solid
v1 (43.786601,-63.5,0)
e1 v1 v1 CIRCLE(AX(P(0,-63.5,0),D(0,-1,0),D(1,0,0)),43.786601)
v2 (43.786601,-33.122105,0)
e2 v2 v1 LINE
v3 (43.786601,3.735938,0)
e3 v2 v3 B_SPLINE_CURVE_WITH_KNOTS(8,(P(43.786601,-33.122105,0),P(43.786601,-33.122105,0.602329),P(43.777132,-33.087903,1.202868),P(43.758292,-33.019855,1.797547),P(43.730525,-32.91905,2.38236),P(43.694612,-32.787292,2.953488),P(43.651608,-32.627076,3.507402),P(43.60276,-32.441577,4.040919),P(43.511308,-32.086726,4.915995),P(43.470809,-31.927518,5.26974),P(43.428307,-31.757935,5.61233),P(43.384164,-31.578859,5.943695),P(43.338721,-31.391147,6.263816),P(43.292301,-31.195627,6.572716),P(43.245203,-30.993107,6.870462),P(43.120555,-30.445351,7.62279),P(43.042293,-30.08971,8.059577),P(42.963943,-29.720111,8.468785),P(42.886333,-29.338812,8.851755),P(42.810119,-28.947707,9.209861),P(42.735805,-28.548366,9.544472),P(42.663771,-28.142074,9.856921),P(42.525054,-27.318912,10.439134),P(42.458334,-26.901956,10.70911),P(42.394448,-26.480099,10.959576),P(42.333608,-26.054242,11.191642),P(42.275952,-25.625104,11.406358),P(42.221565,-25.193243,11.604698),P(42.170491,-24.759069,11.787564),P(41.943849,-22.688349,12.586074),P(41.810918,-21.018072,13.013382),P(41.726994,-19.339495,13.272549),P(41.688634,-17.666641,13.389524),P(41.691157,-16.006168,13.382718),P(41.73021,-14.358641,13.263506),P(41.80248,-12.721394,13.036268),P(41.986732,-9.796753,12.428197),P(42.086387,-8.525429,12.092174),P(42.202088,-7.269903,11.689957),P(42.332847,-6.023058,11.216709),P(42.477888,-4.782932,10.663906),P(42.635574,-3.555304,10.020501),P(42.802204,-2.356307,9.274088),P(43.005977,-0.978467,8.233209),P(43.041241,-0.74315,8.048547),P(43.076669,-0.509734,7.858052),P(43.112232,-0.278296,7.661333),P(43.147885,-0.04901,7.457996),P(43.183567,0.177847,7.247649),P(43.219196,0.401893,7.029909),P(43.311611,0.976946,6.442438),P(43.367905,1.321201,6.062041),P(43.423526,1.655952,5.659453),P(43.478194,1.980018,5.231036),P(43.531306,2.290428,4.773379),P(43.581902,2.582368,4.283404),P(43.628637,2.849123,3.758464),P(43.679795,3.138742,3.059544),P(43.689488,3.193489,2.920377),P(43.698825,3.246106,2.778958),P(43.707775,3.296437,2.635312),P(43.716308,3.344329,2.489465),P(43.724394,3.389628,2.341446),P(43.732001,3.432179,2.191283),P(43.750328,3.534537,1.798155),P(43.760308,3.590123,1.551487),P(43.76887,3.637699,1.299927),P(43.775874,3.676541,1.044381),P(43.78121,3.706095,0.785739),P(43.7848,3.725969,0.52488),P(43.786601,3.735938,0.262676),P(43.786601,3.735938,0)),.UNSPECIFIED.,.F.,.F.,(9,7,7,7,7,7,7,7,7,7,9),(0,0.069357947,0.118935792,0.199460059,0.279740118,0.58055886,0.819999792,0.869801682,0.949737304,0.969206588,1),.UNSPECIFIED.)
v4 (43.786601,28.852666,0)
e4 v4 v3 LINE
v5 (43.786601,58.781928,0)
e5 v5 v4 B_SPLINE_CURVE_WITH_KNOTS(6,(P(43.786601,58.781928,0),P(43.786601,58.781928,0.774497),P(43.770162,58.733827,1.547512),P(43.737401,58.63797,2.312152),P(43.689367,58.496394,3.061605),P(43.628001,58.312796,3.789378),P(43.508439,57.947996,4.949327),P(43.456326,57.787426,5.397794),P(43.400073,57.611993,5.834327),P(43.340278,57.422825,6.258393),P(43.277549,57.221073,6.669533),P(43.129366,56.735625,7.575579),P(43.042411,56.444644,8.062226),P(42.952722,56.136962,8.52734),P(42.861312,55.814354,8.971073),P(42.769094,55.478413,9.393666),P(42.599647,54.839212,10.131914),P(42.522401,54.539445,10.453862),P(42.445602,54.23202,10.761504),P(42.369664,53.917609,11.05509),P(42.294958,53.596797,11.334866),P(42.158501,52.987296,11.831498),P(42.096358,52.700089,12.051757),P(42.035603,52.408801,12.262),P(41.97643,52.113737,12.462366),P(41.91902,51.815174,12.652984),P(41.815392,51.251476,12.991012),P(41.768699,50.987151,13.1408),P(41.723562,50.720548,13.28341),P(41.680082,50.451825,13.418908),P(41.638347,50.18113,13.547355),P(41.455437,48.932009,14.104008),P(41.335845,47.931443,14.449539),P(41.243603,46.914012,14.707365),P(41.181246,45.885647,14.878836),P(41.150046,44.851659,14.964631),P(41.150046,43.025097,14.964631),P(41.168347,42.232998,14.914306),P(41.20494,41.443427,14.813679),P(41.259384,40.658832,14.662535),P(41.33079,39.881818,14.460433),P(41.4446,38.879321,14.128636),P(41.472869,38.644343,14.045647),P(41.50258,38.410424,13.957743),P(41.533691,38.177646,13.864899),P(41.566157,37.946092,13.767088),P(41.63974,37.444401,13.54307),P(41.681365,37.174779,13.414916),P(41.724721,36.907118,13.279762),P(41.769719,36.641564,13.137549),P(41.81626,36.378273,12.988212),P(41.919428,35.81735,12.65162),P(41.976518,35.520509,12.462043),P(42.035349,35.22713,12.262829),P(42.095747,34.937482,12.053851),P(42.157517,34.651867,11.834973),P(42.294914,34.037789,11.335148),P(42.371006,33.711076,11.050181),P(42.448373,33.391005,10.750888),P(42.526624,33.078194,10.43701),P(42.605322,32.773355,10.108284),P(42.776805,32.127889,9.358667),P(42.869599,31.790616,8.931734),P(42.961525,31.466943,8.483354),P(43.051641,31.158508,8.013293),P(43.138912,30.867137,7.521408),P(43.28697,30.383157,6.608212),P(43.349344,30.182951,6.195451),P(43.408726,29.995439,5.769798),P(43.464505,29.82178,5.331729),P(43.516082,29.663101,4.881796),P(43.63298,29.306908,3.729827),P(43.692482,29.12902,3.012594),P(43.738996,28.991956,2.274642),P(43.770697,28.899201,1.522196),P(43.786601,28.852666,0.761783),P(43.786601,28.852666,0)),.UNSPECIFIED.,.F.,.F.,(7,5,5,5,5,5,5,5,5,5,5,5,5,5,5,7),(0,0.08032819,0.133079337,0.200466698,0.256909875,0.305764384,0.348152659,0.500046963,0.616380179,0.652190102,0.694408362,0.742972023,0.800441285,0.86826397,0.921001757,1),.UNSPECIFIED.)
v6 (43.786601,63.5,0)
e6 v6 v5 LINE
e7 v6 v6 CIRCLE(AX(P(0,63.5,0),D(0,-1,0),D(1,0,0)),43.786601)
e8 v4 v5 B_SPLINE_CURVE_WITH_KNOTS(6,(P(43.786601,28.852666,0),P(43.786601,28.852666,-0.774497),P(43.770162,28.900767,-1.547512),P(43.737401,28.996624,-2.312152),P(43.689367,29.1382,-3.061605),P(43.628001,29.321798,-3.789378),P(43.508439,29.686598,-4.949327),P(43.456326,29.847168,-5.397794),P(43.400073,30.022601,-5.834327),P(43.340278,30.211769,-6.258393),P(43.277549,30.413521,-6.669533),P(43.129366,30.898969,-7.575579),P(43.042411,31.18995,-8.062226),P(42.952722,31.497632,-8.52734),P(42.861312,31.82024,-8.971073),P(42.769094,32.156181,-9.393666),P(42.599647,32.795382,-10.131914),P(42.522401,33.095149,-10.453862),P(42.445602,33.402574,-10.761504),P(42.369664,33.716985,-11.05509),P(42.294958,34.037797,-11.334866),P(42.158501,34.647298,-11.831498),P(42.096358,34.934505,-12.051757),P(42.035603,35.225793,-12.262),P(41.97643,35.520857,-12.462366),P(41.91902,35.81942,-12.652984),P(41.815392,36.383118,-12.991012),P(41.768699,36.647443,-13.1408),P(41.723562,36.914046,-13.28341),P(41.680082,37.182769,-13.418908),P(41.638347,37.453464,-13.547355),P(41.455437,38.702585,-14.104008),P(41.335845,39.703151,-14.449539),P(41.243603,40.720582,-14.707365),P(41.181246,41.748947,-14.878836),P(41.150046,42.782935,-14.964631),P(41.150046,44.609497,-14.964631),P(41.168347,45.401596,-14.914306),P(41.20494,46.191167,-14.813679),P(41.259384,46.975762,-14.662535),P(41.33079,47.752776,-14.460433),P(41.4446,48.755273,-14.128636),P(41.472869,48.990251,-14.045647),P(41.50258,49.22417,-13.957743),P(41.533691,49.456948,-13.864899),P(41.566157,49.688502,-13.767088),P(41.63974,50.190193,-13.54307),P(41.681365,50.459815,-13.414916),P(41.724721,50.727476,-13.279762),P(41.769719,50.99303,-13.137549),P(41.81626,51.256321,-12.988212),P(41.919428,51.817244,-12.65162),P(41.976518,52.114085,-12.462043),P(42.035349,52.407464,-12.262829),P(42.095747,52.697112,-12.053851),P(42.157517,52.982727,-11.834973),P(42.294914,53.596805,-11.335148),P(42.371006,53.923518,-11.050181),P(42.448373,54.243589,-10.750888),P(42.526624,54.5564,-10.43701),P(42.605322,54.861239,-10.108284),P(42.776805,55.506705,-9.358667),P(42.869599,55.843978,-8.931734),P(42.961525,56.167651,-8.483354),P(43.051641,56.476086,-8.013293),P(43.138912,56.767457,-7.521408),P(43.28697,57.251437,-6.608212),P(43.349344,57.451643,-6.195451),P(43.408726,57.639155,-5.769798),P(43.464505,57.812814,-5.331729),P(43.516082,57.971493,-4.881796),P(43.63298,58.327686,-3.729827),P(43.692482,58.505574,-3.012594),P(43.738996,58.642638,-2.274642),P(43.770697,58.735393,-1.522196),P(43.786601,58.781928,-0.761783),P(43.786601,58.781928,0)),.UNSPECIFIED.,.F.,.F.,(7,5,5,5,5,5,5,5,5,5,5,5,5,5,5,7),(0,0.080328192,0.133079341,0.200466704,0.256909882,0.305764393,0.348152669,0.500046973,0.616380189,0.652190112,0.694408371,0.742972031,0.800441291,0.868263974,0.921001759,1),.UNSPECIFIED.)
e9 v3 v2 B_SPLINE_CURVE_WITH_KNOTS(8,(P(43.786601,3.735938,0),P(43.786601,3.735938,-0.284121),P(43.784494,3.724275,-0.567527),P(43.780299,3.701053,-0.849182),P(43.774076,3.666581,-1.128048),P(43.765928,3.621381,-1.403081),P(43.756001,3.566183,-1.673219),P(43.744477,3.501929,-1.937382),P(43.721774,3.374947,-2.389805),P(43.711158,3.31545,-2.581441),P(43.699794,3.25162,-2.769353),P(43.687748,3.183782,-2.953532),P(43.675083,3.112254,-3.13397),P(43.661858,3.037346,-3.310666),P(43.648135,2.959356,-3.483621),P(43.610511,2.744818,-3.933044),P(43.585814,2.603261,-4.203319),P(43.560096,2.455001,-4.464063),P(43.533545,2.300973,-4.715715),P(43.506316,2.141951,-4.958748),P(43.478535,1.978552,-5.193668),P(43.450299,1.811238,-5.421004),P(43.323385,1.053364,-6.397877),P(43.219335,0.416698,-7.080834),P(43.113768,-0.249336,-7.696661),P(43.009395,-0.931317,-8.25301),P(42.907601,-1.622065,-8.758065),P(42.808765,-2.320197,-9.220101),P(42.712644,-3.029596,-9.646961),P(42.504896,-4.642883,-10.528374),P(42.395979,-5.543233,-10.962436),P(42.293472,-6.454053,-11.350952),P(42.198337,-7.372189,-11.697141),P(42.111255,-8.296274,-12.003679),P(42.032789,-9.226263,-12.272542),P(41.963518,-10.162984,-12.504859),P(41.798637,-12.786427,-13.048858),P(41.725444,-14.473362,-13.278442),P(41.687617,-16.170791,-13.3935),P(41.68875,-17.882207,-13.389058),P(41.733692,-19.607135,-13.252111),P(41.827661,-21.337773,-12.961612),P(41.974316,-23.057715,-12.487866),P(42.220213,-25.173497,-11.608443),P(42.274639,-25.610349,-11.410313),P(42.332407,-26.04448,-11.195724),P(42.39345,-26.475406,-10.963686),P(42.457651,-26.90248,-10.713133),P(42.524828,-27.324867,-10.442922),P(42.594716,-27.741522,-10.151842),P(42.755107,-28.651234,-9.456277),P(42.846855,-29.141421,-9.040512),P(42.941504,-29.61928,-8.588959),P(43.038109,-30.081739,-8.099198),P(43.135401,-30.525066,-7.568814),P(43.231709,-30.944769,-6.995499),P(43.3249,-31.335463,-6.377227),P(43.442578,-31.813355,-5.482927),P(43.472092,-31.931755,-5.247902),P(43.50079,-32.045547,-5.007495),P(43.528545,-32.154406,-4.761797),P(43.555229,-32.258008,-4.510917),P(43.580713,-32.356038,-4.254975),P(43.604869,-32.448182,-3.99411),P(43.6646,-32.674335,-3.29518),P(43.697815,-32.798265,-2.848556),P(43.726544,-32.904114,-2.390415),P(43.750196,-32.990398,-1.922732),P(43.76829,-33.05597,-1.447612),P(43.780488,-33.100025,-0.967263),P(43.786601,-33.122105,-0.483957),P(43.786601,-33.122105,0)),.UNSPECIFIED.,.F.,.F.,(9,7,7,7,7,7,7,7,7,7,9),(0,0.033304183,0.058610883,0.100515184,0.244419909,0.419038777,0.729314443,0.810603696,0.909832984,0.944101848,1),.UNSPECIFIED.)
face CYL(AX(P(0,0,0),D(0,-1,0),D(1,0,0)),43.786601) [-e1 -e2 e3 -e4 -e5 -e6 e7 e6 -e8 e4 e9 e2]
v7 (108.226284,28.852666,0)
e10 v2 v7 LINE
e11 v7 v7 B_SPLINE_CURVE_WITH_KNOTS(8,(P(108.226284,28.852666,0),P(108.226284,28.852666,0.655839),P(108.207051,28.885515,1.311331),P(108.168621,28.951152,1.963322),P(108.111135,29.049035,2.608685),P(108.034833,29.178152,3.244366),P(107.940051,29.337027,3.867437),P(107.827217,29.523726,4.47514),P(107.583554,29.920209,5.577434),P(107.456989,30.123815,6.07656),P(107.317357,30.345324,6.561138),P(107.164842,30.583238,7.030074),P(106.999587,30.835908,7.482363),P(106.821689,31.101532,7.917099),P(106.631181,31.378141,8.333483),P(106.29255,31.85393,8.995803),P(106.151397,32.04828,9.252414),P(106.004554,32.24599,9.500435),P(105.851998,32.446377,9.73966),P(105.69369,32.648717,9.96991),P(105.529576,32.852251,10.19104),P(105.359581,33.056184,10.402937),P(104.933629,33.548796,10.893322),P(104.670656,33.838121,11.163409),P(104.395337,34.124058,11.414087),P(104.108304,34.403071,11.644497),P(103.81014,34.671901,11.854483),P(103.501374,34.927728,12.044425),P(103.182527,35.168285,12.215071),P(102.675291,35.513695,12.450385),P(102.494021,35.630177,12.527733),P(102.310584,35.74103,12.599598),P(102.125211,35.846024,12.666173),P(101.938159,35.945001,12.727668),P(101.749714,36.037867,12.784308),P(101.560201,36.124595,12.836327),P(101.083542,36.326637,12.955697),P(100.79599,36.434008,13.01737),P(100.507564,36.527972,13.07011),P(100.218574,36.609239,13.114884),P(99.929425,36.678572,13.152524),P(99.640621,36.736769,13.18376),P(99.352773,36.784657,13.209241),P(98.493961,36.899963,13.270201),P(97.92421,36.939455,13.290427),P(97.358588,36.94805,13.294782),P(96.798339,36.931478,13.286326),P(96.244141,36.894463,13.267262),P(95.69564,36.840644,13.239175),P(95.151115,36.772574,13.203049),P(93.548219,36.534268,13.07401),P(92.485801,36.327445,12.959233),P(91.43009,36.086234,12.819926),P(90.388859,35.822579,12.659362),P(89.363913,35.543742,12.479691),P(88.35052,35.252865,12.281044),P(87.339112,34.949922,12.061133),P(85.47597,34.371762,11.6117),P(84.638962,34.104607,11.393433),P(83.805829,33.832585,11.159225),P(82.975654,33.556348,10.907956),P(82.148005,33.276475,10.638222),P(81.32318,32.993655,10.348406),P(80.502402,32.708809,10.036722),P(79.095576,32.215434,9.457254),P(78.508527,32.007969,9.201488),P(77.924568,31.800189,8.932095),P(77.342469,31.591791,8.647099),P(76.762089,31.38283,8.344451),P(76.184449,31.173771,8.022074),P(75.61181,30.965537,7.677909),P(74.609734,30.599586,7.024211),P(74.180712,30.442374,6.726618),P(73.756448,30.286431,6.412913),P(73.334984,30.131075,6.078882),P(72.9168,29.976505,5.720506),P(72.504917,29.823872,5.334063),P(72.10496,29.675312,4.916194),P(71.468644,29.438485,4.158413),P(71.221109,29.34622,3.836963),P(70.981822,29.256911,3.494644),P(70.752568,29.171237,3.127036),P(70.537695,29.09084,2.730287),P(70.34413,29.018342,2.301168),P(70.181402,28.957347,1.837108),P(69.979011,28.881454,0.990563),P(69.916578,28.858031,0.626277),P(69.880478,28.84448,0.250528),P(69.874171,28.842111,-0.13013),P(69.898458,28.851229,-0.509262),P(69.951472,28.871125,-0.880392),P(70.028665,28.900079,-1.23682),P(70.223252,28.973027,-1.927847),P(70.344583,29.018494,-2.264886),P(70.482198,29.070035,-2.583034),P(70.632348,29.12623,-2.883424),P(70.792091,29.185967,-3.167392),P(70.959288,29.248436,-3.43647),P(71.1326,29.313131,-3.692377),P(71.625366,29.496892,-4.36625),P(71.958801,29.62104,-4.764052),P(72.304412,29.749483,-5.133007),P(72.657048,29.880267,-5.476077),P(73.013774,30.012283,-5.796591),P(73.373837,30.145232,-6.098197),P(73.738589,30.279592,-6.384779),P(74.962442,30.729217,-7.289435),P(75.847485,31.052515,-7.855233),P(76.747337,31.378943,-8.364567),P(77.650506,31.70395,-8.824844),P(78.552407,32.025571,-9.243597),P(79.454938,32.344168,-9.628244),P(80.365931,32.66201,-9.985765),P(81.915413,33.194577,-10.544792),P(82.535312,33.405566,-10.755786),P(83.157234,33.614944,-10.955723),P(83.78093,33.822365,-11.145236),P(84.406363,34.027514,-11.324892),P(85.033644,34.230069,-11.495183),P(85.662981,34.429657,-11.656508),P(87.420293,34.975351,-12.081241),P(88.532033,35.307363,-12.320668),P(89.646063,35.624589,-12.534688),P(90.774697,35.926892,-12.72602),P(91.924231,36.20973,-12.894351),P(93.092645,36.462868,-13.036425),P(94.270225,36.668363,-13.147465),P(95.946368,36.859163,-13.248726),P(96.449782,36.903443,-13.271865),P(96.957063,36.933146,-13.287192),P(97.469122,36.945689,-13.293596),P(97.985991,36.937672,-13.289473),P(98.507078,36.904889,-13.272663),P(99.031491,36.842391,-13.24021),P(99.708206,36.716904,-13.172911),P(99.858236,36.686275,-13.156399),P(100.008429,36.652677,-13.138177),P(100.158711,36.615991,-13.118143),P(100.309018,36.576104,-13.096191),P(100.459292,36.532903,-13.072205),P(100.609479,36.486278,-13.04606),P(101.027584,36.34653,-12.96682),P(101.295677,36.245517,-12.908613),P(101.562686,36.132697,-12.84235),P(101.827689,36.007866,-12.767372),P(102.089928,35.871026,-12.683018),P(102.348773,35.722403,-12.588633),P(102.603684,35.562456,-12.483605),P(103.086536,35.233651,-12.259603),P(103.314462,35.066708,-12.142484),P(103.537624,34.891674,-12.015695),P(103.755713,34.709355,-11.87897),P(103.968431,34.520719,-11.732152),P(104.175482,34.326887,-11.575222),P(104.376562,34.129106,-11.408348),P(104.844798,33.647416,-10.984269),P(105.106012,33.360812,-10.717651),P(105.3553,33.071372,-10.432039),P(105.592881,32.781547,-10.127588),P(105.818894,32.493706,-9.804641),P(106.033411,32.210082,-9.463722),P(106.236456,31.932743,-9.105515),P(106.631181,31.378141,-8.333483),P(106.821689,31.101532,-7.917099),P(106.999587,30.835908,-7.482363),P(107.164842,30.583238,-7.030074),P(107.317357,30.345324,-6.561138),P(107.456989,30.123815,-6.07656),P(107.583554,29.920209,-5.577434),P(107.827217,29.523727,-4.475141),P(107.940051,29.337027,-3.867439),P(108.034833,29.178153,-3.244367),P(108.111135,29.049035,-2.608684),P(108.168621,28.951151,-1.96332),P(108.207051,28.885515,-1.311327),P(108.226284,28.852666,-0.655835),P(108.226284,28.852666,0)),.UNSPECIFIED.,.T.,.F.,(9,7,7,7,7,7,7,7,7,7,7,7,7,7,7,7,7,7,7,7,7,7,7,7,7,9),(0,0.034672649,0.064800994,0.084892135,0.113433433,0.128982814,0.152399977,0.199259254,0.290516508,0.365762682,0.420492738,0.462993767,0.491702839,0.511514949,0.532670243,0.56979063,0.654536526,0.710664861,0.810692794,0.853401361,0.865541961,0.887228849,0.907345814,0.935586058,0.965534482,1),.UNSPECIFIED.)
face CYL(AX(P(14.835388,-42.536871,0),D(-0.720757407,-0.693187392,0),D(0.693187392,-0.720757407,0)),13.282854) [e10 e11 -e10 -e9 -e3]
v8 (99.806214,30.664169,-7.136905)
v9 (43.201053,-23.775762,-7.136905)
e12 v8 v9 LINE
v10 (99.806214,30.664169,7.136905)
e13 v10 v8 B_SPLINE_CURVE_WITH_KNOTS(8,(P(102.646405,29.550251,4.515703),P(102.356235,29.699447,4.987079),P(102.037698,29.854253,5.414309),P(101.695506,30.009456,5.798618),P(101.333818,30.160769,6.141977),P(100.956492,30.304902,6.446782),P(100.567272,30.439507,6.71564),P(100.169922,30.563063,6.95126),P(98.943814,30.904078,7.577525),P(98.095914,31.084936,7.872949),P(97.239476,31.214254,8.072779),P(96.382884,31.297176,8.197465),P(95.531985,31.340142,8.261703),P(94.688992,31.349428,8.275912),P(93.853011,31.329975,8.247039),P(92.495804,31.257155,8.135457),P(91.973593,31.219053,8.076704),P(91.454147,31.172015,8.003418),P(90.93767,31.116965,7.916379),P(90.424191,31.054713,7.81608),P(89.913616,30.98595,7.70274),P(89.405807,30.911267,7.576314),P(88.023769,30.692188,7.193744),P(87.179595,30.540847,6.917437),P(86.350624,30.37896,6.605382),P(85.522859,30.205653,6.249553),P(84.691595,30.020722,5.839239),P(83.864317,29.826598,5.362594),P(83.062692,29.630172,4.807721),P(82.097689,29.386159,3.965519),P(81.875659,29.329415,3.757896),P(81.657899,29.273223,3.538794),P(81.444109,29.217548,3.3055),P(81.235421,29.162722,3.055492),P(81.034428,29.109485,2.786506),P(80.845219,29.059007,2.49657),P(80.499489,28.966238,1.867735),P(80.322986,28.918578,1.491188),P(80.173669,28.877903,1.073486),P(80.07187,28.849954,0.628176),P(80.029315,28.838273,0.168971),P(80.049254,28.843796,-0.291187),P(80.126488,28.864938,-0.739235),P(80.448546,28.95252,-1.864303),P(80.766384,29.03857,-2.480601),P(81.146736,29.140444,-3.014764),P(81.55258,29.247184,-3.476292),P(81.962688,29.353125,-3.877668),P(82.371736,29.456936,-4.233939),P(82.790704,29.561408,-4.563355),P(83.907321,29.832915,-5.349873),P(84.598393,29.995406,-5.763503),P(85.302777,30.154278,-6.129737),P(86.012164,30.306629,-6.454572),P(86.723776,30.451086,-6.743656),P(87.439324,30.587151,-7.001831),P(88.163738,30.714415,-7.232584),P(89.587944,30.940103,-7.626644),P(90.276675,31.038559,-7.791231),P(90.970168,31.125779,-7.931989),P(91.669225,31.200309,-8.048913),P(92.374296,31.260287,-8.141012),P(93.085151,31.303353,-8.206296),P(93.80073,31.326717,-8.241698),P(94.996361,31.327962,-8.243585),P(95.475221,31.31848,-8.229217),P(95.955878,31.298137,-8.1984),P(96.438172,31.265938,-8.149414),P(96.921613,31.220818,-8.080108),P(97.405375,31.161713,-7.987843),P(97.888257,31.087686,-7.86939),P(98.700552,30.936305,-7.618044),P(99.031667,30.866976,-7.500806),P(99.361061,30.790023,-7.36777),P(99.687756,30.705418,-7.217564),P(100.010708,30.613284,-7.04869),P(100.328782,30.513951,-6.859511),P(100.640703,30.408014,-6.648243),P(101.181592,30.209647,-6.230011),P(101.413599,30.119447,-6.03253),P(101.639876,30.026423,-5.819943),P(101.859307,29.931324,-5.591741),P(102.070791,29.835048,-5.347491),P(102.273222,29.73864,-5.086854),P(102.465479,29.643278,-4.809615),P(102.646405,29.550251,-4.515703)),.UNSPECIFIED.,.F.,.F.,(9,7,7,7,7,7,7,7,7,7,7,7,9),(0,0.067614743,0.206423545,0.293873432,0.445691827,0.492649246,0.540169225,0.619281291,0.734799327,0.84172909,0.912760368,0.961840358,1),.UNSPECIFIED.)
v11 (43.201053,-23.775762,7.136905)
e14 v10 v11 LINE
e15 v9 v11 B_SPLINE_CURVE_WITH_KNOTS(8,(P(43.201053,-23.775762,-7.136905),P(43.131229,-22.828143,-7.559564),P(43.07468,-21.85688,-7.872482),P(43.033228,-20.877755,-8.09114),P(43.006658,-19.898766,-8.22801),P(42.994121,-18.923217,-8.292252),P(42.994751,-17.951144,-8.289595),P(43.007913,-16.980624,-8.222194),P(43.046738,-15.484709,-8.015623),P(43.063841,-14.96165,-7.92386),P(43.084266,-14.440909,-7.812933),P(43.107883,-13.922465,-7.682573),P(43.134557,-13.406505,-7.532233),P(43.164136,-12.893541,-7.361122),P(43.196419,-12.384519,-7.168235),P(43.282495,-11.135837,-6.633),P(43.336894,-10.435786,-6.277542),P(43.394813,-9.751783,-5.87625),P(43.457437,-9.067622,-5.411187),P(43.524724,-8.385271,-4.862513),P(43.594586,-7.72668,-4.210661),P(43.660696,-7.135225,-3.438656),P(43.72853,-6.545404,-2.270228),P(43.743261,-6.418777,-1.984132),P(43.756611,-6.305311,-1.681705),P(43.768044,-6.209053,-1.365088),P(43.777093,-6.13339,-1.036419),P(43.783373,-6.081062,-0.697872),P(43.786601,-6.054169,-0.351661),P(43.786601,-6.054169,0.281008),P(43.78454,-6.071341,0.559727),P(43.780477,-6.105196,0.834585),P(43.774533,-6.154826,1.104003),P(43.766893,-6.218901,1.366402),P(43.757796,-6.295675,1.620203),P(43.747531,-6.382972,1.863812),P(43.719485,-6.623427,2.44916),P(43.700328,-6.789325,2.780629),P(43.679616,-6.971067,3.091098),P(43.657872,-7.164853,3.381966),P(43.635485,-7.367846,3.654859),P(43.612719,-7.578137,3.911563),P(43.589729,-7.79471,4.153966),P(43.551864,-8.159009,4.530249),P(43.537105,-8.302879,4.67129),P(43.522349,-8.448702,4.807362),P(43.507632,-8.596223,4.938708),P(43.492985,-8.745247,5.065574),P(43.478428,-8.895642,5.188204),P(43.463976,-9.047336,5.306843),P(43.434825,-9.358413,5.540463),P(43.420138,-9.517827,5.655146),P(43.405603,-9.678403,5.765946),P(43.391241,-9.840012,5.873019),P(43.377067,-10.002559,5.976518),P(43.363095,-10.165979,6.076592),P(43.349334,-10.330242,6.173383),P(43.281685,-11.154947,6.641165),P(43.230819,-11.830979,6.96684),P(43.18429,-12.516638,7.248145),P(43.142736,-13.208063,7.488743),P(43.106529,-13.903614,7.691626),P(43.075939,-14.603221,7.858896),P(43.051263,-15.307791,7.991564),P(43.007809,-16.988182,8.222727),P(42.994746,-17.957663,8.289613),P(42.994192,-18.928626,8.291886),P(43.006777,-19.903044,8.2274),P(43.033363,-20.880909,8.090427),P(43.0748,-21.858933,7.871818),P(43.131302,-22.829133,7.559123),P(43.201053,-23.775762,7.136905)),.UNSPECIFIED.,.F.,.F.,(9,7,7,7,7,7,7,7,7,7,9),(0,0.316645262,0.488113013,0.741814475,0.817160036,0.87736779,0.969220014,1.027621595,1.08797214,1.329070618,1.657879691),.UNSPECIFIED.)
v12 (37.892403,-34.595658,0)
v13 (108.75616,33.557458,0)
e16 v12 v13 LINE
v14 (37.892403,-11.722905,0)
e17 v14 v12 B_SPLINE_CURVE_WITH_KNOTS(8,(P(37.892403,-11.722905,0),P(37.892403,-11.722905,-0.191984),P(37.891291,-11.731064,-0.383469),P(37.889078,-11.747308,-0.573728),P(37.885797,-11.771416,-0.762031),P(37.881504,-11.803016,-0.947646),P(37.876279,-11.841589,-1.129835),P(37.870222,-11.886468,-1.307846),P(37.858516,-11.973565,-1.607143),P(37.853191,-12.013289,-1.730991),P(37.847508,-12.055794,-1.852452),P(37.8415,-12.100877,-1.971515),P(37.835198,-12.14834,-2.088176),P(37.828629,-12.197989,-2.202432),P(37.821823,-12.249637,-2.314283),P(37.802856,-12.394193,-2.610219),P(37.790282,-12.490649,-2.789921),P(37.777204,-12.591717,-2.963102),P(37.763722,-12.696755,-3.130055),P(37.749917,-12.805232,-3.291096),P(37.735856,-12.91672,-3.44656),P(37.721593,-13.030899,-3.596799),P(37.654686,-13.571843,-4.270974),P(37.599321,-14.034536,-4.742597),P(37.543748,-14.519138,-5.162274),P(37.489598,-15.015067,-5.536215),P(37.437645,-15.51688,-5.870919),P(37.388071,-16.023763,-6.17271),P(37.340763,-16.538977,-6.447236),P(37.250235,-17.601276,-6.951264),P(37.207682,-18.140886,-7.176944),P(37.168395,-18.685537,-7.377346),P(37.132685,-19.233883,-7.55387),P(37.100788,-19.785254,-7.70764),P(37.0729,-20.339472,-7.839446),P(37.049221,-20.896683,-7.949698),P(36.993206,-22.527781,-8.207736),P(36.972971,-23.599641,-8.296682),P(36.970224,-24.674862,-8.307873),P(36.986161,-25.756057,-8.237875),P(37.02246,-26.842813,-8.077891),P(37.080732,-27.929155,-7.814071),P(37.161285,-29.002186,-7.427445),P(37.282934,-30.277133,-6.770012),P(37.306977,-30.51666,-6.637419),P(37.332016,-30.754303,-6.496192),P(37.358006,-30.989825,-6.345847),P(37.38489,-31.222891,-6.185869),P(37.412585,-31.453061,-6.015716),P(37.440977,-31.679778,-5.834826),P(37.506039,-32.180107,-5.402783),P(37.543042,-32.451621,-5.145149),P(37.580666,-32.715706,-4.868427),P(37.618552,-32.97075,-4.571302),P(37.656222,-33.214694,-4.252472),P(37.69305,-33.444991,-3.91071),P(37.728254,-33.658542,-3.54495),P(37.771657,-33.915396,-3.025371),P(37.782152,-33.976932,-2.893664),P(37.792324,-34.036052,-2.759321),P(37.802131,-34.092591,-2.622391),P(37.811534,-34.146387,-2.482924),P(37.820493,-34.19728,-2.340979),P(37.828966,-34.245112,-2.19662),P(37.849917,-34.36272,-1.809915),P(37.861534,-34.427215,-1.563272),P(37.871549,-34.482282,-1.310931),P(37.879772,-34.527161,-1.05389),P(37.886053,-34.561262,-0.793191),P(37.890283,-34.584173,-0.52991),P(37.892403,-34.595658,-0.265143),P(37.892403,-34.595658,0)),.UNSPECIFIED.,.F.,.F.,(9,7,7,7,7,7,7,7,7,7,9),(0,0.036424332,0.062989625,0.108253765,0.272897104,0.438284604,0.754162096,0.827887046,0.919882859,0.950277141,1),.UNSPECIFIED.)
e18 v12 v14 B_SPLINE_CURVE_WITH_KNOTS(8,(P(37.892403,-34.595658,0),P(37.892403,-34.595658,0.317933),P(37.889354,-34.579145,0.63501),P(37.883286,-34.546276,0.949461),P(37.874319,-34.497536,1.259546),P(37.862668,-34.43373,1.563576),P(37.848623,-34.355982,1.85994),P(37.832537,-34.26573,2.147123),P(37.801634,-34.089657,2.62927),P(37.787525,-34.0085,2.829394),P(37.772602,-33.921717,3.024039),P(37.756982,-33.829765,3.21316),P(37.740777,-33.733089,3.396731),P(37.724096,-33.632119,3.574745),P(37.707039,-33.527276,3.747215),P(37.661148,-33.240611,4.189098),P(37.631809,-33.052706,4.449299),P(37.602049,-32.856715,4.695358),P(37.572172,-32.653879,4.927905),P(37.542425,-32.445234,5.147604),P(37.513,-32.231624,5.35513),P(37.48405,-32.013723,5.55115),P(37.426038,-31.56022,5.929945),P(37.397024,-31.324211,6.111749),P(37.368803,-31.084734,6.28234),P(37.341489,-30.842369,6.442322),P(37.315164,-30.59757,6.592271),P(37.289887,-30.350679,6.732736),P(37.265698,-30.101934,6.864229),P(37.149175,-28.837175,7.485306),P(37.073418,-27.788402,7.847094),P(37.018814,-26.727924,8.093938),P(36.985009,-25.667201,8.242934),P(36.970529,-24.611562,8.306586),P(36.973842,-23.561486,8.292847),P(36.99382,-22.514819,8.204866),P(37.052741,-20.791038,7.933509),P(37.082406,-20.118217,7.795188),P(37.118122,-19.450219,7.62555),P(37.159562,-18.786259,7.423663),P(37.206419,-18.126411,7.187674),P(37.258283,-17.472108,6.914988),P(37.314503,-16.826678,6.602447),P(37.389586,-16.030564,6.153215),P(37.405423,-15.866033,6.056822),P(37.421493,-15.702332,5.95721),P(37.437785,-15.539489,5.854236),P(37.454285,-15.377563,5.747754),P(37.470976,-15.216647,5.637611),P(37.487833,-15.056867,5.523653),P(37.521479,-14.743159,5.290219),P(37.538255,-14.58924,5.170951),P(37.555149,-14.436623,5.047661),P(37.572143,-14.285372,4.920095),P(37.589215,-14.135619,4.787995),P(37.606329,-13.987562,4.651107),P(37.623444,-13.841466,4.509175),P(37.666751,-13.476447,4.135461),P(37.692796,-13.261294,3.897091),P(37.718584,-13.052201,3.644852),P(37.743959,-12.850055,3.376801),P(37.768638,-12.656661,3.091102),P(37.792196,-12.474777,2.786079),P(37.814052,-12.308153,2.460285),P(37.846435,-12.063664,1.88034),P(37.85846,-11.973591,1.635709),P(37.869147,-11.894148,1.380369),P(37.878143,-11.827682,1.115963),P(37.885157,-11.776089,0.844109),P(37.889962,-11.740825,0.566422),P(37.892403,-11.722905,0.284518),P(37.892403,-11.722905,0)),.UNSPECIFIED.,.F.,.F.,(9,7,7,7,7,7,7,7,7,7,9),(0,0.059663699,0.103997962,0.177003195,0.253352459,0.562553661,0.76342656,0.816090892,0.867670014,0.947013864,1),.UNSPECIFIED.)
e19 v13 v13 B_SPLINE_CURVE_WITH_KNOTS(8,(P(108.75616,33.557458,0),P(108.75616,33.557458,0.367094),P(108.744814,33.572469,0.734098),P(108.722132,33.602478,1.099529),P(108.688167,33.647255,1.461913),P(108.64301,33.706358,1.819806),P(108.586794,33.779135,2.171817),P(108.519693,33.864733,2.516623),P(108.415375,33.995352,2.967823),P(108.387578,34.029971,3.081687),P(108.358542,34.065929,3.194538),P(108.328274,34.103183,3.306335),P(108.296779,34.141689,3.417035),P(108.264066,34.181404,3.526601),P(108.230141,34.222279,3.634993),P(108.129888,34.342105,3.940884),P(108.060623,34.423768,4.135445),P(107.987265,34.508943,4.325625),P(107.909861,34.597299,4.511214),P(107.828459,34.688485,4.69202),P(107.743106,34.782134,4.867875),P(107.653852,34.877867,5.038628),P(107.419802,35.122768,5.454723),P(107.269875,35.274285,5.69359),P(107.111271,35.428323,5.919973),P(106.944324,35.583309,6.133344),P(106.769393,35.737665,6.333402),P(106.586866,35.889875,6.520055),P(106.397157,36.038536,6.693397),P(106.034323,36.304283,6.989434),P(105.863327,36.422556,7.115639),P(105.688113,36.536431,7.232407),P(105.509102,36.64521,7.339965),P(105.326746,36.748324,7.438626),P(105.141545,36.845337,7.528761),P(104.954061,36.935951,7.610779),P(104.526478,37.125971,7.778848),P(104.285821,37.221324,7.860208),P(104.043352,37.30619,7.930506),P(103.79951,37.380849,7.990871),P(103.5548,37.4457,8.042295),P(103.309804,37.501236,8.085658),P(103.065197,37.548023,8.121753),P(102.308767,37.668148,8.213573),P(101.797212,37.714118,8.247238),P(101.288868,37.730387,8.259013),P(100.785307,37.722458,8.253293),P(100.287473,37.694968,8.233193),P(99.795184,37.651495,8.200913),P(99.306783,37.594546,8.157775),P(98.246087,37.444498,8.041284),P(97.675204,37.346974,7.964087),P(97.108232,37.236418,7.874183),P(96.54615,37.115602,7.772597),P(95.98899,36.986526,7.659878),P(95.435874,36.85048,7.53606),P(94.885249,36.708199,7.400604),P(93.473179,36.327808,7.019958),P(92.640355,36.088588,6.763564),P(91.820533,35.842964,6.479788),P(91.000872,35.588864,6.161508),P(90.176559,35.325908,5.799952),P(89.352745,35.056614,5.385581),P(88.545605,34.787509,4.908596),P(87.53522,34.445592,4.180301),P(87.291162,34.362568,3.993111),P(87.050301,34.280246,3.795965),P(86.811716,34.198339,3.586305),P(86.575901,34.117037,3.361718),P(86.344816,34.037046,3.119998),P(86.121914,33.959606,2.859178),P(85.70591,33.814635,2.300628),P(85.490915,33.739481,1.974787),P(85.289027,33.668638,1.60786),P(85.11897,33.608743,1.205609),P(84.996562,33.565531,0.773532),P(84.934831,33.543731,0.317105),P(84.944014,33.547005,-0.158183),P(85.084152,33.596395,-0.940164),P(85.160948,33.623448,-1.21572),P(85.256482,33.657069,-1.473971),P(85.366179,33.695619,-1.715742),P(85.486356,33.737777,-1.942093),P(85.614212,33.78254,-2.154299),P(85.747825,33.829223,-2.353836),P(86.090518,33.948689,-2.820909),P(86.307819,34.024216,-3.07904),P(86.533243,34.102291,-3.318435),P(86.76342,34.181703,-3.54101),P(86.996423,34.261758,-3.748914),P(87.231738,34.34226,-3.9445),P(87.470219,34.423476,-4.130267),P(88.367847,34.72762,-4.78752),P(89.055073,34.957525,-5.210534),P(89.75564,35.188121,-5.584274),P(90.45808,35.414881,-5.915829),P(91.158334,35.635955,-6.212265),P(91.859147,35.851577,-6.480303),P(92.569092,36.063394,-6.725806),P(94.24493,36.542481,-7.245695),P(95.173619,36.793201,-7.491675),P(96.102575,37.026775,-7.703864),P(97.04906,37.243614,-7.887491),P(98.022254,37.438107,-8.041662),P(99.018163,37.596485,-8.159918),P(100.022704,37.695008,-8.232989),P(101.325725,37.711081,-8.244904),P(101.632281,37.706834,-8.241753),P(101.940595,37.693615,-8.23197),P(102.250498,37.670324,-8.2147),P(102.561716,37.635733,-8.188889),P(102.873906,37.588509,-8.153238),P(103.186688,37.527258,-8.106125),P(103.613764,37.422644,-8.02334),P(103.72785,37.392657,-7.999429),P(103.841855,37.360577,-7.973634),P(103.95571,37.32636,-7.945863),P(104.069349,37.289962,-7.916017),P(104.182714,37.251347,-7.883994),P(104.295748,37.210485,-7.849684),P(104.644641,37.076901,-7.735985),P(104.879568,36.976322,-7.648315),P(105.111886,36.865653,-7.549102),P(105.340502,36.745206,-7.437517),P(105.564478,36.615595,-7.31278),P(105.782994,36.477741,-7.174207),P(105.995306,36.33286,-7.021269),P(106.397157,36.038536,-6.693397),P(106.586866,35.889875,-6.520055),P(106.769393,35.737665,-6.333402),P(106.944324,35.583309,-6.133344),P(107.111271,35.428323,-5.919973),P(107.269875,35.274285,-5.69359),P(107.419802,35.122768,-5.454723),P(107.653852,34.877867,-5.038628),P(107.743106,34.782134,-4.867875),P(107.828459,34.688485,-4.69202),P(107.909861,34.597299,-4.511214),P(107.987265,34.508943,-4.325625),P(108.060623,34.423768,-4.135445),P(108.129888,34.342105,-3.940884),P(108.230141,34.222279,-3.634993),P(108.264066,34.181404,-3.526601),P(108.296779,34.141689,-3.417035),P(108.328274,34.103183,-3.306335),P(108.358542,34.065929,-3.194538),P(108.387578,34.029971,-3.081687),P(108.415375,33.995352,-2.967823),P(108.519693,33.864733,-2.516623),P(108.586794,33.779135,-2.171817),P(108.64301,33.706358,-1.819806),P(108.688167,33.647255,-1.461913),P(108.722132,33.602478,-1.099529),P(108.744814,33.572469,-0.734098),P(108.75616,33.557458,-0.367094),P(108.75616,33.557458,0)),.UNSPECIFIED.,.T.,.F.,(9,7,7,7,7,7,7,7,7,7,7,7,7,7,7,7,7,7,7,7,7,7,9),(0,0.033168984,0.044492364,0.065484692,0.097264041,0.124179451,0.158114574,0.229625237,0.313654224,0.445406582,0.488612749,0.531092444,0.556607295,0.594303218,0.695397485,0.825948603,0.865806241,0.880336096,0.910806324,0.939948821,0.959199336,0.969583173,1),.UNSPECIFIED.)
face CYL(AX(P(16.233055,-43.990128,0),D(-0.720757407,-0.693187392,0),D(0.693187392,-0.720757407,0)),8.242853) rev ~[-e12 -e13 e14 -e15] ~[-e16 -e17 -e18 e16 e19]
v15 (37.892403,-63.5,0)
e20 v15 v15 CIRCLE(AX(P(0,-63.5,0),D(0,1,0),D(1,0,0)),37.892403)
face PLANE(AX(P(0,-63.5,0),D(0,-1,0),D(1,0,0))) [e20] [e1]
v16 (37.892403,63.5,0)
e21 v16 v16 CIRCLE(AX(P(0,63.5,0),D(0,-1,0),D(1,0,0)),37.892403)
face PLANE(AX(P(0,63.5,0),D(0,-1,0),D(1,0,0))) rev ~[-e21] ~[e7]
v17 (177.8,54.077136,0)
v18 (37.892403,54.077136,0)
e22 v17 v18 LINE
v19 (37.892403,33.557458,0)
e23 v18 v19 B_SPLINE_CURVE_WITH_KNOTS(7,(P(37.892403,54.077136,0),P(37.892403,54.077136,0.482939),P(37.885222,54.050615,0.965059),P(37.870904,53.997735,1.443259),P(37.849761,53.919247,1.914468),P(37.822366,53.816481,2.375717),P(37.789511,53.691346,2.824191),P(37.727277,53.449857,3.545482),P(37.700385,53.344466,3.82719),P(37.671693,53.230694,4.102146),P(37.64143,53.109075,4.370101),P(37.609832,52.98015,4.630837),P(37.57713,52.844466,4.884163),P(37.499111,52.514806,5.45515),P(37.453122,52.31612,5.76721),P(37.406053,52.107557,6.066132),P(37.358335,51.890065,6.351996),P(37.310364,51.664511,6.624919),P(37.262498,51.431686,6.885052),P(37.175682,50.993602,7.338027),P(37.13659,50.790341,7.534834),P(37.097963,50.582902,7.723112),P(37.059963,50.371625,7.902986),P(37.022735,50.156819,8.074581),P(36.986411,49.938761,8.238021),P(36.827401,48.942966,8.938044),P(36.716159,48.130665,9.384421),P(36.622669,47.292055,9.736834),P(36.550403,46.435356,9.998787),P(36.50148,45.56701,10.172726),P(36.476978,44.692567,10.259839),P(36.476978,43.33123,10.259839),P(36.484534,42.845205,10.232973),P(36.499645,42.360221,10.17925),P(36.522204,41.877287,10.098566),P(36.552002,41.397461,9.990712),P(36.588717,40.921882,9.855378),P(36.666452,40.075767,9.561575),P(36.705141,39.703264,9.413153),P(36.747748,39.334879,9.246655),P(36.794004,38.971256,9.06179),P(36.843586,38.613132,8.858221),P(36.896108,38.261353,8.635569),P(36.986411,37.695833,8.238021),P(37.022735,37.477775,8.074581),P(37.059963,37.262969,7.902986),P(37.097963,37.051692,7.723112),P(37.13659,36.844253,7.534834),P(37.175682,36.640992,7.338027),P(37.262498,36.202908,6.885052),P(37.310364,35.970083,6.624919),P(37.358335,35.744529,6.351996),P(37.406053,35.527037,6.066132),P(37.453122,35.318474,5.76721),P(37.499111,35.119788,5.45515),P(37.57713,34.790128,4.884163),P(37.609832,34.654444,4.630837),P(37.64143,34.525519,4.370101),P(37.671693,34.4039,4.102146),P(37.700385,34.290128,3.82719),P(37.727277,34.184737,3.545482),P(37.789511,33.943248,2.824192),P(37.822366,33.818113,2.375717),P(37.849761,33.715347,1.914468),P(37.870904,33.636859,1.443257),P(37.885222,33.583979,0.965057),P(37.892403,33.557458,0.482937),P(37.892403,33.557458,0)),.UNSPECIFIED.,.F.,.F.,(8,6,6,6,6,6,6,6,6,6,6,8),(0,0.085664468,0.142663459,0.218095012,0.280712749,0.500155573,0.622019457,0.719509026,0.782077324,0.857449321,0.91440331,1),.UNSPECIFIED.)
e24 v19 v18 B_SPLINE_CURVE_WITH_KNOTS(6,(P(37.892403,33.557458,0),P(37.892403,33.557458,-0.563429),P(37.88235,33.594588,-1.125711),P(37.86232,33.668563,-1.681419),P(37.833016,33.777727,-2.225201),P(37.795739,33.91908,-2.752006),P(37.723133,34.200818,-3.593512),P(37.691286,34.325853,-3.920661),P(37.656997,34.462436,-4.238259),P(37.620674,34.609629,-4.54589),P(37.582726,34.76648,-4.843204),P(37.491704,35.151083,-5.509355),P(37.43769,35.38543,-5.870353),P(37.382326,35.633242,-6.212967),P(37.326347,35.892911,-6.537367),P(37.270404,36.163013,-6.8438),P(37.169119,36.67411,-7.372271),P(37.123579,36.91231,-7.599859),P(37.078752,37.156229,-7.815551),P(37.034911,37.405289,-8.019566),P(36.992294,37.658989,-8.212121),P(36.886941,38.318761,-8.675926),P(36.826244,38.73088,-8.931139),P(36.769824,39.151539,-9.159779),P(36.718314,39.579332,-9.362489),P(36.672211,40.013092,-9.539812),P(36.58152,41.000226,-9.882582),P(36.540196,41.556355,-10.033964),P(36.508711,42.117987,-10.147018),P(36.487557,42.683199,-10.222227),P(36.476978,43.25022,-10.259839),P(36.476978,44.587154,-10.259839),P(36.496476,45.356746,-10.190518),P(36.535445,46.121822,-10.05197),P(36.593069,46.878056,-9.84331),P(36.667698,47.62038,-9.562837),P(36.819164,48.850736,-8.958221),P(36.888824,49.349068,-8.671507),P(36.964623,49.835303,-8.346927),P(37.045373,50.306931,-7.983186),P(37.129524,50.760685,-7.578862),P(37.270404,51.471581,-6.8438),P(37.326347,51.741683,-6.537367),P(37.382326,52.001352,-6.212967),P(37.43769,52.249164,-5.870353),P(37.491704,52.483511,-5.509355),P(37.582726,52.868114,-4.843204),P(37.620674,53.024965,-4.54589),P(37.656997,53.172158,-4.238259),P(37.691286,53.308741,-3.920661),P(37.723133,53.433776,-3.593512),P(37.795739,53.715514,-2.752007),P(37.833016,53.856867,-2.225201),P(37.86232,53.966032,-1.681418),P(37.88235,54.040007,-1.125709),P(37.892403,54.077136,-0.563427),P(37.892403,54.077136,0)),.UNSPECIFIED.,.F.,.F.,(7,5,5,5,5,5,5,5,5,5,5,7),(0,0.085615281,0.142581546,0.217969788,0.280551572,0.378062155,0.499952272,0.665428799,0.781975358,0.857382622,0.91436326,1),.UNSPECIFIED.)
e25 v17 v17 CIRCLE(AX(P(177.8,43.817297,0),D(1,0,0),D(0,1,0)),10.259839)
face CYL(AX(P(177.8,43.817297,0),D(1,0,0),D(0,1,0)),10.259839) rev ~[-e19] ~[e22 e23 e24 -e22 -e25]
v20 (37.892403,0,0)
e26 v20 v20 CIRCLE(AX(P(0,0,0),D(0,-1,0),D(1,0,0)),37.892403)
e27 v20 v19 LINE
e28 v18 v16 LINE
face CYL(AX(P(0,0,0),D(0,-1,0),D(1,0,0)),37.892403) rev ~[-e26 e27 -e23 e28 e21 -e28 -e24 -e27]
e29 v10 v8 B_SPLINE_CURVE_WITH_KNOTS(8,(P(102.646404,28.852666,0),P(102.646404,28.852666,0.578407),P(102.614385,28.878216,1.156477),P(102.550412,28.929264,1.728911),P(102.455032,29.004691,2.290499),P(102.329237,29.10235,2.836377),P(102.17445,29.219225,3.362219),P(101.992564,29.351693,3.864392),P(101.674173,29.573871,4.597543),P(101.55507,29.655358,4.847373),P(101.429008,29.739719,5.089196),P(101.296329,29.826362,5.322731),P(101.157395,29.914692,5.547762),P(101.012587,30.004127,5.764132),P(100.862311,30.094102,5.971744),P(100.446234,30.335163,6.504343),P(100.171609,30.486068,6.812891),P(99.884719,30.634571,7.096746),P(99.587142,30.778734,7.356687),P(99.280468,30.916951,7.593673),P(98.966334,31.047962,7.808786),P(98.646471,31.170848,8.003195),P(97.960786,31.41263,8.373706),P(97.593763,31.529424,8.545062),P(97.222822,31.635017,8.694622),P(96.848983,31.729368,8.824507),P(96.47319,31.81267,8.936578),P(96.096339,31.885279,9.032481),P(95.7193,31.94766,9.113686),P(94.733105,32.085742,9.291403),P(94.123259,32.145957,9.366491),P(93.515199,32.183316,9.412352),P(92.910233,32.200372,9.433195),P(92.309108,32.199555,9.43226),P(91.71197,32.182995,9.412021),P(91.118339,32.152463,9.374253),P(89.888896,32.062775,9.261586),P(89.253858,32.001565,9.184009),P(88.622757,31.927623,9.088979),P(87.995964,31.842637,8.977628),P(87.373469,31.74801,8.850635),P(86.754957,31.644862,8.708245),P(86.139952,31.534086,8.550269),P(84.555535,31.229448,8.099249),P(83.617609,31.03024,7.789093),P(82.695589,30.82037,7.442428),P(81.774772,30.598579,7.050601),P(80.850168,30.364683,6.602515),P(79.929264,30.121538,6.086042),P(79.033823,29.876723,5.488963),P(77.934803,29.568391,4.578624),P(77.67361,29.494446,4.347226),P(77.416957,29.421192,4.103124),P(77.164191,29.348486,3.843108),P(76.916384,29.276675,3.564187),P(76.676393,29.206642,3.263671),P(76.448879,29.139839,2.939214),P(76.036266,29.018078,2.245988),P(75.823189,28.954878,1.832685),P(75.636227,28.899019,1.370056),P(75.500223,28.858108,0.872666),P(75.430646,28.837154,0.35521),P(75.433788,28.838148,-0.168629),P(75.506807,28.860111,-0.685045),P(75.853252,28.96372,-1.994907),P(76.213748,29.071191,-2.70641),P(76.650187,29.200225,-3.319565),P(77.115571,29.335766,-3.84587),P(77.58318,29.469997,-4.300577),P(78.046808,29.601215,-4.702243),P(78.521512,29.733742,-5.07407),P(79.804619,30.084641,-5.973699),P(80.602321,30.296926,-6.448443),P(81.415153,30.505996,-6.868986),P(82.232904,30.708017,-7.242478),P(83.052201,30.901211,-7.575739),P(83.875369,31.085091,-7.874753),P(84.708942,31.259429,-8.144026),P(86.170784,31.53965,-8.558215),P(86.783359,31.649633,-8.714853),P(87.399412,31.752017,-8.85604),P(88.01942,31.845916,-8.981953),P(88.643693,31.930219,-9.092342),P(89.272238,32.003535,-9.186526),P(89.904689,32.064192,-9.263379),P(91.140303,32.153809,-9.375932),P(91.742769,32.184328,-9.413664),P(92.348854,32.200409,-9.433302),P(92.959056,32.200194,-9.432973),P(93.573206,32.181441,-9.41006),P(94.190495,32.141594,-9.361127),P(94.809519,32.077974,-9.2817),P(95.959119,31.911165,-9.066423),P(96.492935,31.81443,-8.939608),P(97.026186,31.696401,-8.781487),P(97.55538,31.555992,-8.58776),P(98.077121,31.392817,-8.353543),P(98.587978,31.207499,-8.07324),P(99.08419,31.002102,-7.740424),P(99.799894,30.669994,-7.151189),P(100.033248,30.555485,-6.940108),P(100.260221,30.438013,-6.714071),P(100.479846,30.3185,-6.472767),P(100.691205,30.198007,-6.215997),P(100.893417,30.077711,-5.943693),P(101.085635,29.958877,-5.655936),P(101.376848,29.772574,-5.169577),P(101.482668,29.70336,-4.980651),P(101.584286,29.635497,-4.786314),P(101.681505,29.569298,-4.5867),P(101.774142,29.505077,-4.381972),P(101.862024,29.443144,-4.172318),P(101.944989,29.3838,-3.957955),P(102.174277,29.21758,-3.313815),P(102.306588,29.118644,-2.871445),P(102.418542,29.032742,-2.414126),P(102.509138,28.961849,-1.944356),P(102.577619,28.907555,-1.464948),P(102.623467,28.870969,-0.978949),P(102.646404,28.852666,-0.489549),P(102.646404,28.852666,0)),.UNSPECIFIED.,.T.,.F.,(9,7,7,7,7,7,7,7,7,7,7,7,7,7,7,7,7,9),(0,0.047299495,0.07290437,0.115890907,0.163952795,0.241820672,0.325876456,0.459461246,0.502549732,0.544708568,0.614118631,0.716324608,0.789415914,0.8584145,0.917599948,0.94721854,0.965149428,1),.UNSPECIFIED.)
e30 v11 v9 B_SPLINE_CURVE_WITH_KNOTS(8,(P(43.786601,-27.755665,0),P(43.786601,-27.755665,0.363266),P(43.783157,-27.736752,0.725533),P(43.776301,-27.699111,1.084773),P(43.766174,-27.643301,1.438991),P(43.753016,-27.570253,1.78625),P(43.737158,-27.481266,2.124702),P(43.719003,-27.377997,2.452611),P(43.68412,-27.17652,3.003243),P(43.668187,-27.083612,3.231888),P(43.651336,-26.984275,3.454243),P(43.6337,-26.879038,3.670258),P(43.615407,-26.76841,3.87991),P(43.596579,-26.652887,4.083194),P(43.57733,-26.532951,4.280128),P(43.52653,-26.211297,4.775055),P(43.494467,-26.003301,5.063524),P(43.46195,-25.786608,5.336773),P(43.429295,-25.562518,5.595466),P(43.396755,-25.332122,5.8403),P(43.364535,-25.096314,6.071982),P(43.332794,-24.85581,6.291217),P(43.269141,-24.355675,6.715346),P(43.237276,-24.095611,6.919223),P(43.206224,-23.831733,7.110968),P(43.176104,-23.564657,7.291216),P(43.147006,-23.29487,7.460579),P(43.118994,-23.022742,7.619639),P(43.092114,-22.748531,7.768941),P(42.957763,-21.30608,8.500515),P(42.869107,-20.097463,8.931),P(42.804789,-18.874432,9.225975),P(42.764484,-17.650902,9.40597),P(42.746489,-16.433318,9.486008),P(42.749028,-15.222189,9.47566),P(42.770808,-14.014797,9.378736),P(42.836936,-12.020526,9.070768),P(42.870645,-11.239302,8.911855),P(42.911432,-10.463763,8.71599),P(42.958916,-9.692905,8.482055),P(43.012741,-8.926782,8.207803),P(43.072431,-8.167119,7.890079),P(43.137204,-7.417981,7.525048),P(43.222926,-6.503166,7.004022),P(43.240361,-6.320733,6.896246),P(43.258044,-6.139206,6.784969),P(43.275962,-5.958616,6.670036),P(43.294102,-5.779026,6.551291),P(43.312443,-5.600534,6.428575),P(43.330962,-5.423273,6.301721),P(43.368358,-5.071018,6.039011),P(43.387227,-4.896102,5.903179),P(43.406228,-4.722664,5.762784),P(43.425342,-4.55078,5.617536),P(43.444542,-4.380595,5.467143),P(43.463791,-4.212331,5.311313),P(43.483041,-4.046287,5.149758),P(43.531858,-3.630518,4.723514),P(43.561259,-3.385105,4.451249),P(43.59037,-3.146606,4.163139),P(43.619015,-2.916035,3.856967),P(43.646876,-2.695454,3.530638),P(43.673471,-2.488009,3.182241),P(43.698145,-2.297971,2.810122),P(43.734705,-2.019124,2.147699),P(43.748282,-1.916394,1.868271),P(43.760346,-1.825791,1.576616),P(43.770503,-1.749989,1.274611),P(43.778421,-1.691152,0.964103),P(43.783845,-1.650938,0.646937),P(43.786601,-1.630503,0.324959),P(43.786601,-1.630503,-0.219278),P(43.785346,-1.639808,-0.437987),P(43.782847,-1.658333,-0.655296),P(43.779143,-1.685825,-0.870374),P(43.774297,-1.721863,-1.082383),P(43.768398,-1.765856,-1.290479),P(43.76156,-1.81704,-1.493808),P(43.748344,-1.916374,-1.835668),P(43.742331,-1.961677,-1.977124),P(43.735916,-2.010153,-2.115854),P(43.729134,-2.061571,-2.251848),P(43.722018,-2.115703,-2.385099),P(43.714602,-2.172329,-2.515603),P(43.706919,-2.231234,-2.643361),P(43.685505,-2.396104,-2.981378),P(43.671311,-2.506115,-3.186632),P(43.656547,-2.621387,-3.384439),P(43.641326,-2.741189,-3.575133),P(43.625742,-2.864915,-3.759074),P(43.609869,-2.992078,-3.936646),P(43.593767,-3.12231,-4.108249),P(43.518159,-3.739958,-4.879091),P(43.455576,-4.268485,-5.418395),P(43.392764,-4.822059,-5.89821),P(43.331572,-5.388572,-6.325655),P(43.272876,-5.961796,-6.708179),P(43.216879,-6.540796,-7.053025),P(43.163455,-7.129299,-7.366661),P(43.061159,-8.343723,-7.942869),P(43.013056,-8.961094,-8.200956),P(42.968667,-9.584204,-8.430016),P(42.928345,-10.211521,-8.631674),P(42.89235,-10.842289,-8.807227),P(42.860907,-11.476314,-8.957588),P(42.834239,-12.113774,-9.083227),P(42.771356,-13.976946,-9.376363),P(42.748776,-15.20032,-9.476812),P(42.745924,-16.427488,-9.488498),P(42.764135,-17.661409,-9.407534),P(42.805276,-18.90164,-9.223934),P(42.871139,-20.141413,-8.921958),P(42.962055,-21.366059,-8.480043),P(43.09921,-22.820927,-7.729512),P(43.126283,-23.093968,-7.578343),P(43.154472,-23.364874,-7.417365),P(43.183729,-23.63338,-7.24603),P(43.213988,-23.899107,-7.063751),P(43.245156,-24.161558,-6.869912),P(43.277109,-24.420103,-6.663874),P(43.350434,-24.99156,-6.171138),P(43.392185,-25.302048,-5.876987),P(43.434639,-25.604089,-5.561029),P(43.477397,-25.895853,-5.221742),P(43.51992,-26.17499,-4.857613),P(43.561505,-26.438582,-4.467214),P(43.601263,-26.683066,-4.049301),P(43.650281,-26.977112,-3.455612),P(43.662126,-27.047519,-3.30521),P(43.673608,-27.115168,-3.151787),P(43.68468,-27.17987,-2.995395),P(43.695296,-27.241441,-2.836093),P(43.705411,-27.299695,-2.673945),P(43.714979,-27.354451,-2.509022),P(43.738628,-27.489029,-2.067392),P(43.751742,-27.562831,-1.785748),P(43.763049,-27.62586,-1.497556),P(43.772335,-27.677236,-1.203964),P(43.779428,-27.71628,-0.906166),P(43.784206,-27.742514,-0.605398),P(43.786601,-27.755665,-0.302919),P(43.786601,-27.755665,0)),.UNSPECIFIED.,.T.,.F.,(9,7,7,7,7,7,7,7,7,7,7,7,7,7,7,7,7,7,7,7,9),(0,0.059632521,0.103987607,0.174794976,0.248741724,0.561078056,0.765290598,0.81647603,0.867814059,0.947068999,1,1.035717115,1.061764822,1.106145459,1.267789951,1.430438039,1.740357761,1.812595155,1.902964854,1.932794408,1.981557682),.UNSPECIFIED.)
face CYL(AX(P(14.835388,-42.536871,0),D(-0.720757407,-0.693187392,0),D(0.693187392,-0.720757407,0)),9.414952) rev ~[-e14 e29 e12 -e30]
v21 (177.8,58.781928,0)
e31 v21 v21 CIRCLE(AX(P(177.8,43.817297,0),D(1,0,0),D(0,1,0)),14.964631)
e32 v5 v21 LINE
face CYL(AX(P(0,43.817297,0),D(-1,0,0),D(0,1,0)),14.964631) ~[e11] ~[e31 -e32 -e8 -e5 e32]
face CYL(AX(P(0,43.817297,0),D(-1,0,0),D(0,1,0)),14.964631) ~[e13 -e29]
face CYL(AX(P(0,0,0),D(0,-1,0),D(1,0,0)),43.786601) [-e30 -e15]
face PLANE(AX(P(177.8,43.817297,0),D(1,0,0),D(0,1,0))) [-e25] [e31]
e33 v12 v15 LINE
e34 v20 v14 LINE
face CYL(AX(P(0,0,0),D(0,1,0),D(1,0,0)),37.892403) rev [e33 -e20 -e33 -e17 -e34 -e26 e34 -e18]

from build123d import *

# Parameters (mm, degrees)
F0_R      = 43.786601
F1_DEPTH  = 63.5
F2_R      = 36.948177
F3_DEPTH  = 127.001
F4_R      = 14.964631
F5_DEPTH  = 177.8
F6_R      = 10.234569
F7_DEPTH  = 177.8
F8_DEPTH  = 127.001
F10_DEPTH = 21.80281
F11_R     = 13.282854
F11_R_2   = 9.414952
F12_DEPTH = 119.06572
F13_R     = 8.242853
F14_DEPTH = 126.54868
F15_R     = 37.892403
F16_DEPTH = 63.501
F17_R     = 10.259839
F18_DEPTH = 185.08291
F19_DEPTH = 161.75664


with BuildPart() as f1:
    # F0 (on Front) → F1 (new body, symmetric)
    with BuildSketch(Plane.XZ):
        Circle(F0_R)
    extrude(amount=F1_DEPTH, both=True)

    # F2 (on face) → F3 (cut, through all)
    with BuildSketch(Plane.XZ.offset(63.5)):
        Circle(F2_R)
    extrude(amount=-F3_DEPTH, mode=Mode.SUBTRACT)

    # F4 (on Right) → F5 (join)
    with BuildSketch(Plane.YZ):
        with Locations((43.817297, 0)):
            Circle(F4_R)
    extrude(amount=F5_DEPTH)

    # F6 (on face) → F7 (cut)
    with BuildSketch(Plane.YZ.offset(177.8)):
        with Locations((43.817297, 0)):
            Circle(F6_R)
    extrude(amount=-F7_DEPTH, mode=Mode.SUBTRACT)

    # F2 (on face) → F8 (cut, through all)
    with BuildSketch(Plane.XZ.offset(63.5)):
        Circle(F2_R)
    extrude(amount=-F8_DEPTH, mode=Mode.SUBTRACT)

    # F9 (on Top) → F10 (join, symmetric)
    with BuildSketch(Plane.XY):
        Polygon((37.235875, -51.78196), (4.975257, -18.238248), (-1.817873, -25.221262), (30.218051, -58.531342), align=None)
    extrude(amount=F10_DEPTH, both=True)

    # F11 (on face) → F12 (join)
    with BuildSketch(Plane(origin=(-13.545415, -13.027284, 0), x_dir=(0.693187, -0.720757, 0), z_dir=(-0.720757, -0.693187, 0))):
        with Locations((40.942468, 0)):
            Circle(F11_R)
        with Locations((40.942468, 0)):
            Circle(F11_R_2, mode=Mode.SUBTRACT)
    extrude(amount=-F12_DEPTH)

    # F13 (on face) → F14 (cut)
    with BuildSketch(Plane(origin=(-13.545415, -13.027284, 0), x_dir=(0.693187, -0.720757, 0), z_dir=(-0.720757, -0.693187, 0))):
        with Locations((42.958759, 0)):
            Circle(F13_R)
    extrude(amount=-F14_DEPTH, mode=Mode.SUBTRACT)

    # F15 (on Front) → F16 (cut, through all)
    with BuildSketch(Plane.XZ):
        Circle(F15_R)
    extrude(amount=F16_DEPTH, mode=Mode.SUBTRACT)

    # F17 (on face) → F18 (cut)
    with BuildSketch(Plane.YZ.offset(177.8)):
        with Locations((43.817297, 0)):
            Circle(F17_R)
    extrude(amount=-F18_DEPTH, mode=Mode.SUBTRACT)

    # F15 (on Front) → F19 (cut)
    with BuildSketch(Plane.XZ):
        Circle(F15_R)
    extrude(amount=-F19_DEPTH, mode=Mode.SUBTRACT)


solid = f1.part
